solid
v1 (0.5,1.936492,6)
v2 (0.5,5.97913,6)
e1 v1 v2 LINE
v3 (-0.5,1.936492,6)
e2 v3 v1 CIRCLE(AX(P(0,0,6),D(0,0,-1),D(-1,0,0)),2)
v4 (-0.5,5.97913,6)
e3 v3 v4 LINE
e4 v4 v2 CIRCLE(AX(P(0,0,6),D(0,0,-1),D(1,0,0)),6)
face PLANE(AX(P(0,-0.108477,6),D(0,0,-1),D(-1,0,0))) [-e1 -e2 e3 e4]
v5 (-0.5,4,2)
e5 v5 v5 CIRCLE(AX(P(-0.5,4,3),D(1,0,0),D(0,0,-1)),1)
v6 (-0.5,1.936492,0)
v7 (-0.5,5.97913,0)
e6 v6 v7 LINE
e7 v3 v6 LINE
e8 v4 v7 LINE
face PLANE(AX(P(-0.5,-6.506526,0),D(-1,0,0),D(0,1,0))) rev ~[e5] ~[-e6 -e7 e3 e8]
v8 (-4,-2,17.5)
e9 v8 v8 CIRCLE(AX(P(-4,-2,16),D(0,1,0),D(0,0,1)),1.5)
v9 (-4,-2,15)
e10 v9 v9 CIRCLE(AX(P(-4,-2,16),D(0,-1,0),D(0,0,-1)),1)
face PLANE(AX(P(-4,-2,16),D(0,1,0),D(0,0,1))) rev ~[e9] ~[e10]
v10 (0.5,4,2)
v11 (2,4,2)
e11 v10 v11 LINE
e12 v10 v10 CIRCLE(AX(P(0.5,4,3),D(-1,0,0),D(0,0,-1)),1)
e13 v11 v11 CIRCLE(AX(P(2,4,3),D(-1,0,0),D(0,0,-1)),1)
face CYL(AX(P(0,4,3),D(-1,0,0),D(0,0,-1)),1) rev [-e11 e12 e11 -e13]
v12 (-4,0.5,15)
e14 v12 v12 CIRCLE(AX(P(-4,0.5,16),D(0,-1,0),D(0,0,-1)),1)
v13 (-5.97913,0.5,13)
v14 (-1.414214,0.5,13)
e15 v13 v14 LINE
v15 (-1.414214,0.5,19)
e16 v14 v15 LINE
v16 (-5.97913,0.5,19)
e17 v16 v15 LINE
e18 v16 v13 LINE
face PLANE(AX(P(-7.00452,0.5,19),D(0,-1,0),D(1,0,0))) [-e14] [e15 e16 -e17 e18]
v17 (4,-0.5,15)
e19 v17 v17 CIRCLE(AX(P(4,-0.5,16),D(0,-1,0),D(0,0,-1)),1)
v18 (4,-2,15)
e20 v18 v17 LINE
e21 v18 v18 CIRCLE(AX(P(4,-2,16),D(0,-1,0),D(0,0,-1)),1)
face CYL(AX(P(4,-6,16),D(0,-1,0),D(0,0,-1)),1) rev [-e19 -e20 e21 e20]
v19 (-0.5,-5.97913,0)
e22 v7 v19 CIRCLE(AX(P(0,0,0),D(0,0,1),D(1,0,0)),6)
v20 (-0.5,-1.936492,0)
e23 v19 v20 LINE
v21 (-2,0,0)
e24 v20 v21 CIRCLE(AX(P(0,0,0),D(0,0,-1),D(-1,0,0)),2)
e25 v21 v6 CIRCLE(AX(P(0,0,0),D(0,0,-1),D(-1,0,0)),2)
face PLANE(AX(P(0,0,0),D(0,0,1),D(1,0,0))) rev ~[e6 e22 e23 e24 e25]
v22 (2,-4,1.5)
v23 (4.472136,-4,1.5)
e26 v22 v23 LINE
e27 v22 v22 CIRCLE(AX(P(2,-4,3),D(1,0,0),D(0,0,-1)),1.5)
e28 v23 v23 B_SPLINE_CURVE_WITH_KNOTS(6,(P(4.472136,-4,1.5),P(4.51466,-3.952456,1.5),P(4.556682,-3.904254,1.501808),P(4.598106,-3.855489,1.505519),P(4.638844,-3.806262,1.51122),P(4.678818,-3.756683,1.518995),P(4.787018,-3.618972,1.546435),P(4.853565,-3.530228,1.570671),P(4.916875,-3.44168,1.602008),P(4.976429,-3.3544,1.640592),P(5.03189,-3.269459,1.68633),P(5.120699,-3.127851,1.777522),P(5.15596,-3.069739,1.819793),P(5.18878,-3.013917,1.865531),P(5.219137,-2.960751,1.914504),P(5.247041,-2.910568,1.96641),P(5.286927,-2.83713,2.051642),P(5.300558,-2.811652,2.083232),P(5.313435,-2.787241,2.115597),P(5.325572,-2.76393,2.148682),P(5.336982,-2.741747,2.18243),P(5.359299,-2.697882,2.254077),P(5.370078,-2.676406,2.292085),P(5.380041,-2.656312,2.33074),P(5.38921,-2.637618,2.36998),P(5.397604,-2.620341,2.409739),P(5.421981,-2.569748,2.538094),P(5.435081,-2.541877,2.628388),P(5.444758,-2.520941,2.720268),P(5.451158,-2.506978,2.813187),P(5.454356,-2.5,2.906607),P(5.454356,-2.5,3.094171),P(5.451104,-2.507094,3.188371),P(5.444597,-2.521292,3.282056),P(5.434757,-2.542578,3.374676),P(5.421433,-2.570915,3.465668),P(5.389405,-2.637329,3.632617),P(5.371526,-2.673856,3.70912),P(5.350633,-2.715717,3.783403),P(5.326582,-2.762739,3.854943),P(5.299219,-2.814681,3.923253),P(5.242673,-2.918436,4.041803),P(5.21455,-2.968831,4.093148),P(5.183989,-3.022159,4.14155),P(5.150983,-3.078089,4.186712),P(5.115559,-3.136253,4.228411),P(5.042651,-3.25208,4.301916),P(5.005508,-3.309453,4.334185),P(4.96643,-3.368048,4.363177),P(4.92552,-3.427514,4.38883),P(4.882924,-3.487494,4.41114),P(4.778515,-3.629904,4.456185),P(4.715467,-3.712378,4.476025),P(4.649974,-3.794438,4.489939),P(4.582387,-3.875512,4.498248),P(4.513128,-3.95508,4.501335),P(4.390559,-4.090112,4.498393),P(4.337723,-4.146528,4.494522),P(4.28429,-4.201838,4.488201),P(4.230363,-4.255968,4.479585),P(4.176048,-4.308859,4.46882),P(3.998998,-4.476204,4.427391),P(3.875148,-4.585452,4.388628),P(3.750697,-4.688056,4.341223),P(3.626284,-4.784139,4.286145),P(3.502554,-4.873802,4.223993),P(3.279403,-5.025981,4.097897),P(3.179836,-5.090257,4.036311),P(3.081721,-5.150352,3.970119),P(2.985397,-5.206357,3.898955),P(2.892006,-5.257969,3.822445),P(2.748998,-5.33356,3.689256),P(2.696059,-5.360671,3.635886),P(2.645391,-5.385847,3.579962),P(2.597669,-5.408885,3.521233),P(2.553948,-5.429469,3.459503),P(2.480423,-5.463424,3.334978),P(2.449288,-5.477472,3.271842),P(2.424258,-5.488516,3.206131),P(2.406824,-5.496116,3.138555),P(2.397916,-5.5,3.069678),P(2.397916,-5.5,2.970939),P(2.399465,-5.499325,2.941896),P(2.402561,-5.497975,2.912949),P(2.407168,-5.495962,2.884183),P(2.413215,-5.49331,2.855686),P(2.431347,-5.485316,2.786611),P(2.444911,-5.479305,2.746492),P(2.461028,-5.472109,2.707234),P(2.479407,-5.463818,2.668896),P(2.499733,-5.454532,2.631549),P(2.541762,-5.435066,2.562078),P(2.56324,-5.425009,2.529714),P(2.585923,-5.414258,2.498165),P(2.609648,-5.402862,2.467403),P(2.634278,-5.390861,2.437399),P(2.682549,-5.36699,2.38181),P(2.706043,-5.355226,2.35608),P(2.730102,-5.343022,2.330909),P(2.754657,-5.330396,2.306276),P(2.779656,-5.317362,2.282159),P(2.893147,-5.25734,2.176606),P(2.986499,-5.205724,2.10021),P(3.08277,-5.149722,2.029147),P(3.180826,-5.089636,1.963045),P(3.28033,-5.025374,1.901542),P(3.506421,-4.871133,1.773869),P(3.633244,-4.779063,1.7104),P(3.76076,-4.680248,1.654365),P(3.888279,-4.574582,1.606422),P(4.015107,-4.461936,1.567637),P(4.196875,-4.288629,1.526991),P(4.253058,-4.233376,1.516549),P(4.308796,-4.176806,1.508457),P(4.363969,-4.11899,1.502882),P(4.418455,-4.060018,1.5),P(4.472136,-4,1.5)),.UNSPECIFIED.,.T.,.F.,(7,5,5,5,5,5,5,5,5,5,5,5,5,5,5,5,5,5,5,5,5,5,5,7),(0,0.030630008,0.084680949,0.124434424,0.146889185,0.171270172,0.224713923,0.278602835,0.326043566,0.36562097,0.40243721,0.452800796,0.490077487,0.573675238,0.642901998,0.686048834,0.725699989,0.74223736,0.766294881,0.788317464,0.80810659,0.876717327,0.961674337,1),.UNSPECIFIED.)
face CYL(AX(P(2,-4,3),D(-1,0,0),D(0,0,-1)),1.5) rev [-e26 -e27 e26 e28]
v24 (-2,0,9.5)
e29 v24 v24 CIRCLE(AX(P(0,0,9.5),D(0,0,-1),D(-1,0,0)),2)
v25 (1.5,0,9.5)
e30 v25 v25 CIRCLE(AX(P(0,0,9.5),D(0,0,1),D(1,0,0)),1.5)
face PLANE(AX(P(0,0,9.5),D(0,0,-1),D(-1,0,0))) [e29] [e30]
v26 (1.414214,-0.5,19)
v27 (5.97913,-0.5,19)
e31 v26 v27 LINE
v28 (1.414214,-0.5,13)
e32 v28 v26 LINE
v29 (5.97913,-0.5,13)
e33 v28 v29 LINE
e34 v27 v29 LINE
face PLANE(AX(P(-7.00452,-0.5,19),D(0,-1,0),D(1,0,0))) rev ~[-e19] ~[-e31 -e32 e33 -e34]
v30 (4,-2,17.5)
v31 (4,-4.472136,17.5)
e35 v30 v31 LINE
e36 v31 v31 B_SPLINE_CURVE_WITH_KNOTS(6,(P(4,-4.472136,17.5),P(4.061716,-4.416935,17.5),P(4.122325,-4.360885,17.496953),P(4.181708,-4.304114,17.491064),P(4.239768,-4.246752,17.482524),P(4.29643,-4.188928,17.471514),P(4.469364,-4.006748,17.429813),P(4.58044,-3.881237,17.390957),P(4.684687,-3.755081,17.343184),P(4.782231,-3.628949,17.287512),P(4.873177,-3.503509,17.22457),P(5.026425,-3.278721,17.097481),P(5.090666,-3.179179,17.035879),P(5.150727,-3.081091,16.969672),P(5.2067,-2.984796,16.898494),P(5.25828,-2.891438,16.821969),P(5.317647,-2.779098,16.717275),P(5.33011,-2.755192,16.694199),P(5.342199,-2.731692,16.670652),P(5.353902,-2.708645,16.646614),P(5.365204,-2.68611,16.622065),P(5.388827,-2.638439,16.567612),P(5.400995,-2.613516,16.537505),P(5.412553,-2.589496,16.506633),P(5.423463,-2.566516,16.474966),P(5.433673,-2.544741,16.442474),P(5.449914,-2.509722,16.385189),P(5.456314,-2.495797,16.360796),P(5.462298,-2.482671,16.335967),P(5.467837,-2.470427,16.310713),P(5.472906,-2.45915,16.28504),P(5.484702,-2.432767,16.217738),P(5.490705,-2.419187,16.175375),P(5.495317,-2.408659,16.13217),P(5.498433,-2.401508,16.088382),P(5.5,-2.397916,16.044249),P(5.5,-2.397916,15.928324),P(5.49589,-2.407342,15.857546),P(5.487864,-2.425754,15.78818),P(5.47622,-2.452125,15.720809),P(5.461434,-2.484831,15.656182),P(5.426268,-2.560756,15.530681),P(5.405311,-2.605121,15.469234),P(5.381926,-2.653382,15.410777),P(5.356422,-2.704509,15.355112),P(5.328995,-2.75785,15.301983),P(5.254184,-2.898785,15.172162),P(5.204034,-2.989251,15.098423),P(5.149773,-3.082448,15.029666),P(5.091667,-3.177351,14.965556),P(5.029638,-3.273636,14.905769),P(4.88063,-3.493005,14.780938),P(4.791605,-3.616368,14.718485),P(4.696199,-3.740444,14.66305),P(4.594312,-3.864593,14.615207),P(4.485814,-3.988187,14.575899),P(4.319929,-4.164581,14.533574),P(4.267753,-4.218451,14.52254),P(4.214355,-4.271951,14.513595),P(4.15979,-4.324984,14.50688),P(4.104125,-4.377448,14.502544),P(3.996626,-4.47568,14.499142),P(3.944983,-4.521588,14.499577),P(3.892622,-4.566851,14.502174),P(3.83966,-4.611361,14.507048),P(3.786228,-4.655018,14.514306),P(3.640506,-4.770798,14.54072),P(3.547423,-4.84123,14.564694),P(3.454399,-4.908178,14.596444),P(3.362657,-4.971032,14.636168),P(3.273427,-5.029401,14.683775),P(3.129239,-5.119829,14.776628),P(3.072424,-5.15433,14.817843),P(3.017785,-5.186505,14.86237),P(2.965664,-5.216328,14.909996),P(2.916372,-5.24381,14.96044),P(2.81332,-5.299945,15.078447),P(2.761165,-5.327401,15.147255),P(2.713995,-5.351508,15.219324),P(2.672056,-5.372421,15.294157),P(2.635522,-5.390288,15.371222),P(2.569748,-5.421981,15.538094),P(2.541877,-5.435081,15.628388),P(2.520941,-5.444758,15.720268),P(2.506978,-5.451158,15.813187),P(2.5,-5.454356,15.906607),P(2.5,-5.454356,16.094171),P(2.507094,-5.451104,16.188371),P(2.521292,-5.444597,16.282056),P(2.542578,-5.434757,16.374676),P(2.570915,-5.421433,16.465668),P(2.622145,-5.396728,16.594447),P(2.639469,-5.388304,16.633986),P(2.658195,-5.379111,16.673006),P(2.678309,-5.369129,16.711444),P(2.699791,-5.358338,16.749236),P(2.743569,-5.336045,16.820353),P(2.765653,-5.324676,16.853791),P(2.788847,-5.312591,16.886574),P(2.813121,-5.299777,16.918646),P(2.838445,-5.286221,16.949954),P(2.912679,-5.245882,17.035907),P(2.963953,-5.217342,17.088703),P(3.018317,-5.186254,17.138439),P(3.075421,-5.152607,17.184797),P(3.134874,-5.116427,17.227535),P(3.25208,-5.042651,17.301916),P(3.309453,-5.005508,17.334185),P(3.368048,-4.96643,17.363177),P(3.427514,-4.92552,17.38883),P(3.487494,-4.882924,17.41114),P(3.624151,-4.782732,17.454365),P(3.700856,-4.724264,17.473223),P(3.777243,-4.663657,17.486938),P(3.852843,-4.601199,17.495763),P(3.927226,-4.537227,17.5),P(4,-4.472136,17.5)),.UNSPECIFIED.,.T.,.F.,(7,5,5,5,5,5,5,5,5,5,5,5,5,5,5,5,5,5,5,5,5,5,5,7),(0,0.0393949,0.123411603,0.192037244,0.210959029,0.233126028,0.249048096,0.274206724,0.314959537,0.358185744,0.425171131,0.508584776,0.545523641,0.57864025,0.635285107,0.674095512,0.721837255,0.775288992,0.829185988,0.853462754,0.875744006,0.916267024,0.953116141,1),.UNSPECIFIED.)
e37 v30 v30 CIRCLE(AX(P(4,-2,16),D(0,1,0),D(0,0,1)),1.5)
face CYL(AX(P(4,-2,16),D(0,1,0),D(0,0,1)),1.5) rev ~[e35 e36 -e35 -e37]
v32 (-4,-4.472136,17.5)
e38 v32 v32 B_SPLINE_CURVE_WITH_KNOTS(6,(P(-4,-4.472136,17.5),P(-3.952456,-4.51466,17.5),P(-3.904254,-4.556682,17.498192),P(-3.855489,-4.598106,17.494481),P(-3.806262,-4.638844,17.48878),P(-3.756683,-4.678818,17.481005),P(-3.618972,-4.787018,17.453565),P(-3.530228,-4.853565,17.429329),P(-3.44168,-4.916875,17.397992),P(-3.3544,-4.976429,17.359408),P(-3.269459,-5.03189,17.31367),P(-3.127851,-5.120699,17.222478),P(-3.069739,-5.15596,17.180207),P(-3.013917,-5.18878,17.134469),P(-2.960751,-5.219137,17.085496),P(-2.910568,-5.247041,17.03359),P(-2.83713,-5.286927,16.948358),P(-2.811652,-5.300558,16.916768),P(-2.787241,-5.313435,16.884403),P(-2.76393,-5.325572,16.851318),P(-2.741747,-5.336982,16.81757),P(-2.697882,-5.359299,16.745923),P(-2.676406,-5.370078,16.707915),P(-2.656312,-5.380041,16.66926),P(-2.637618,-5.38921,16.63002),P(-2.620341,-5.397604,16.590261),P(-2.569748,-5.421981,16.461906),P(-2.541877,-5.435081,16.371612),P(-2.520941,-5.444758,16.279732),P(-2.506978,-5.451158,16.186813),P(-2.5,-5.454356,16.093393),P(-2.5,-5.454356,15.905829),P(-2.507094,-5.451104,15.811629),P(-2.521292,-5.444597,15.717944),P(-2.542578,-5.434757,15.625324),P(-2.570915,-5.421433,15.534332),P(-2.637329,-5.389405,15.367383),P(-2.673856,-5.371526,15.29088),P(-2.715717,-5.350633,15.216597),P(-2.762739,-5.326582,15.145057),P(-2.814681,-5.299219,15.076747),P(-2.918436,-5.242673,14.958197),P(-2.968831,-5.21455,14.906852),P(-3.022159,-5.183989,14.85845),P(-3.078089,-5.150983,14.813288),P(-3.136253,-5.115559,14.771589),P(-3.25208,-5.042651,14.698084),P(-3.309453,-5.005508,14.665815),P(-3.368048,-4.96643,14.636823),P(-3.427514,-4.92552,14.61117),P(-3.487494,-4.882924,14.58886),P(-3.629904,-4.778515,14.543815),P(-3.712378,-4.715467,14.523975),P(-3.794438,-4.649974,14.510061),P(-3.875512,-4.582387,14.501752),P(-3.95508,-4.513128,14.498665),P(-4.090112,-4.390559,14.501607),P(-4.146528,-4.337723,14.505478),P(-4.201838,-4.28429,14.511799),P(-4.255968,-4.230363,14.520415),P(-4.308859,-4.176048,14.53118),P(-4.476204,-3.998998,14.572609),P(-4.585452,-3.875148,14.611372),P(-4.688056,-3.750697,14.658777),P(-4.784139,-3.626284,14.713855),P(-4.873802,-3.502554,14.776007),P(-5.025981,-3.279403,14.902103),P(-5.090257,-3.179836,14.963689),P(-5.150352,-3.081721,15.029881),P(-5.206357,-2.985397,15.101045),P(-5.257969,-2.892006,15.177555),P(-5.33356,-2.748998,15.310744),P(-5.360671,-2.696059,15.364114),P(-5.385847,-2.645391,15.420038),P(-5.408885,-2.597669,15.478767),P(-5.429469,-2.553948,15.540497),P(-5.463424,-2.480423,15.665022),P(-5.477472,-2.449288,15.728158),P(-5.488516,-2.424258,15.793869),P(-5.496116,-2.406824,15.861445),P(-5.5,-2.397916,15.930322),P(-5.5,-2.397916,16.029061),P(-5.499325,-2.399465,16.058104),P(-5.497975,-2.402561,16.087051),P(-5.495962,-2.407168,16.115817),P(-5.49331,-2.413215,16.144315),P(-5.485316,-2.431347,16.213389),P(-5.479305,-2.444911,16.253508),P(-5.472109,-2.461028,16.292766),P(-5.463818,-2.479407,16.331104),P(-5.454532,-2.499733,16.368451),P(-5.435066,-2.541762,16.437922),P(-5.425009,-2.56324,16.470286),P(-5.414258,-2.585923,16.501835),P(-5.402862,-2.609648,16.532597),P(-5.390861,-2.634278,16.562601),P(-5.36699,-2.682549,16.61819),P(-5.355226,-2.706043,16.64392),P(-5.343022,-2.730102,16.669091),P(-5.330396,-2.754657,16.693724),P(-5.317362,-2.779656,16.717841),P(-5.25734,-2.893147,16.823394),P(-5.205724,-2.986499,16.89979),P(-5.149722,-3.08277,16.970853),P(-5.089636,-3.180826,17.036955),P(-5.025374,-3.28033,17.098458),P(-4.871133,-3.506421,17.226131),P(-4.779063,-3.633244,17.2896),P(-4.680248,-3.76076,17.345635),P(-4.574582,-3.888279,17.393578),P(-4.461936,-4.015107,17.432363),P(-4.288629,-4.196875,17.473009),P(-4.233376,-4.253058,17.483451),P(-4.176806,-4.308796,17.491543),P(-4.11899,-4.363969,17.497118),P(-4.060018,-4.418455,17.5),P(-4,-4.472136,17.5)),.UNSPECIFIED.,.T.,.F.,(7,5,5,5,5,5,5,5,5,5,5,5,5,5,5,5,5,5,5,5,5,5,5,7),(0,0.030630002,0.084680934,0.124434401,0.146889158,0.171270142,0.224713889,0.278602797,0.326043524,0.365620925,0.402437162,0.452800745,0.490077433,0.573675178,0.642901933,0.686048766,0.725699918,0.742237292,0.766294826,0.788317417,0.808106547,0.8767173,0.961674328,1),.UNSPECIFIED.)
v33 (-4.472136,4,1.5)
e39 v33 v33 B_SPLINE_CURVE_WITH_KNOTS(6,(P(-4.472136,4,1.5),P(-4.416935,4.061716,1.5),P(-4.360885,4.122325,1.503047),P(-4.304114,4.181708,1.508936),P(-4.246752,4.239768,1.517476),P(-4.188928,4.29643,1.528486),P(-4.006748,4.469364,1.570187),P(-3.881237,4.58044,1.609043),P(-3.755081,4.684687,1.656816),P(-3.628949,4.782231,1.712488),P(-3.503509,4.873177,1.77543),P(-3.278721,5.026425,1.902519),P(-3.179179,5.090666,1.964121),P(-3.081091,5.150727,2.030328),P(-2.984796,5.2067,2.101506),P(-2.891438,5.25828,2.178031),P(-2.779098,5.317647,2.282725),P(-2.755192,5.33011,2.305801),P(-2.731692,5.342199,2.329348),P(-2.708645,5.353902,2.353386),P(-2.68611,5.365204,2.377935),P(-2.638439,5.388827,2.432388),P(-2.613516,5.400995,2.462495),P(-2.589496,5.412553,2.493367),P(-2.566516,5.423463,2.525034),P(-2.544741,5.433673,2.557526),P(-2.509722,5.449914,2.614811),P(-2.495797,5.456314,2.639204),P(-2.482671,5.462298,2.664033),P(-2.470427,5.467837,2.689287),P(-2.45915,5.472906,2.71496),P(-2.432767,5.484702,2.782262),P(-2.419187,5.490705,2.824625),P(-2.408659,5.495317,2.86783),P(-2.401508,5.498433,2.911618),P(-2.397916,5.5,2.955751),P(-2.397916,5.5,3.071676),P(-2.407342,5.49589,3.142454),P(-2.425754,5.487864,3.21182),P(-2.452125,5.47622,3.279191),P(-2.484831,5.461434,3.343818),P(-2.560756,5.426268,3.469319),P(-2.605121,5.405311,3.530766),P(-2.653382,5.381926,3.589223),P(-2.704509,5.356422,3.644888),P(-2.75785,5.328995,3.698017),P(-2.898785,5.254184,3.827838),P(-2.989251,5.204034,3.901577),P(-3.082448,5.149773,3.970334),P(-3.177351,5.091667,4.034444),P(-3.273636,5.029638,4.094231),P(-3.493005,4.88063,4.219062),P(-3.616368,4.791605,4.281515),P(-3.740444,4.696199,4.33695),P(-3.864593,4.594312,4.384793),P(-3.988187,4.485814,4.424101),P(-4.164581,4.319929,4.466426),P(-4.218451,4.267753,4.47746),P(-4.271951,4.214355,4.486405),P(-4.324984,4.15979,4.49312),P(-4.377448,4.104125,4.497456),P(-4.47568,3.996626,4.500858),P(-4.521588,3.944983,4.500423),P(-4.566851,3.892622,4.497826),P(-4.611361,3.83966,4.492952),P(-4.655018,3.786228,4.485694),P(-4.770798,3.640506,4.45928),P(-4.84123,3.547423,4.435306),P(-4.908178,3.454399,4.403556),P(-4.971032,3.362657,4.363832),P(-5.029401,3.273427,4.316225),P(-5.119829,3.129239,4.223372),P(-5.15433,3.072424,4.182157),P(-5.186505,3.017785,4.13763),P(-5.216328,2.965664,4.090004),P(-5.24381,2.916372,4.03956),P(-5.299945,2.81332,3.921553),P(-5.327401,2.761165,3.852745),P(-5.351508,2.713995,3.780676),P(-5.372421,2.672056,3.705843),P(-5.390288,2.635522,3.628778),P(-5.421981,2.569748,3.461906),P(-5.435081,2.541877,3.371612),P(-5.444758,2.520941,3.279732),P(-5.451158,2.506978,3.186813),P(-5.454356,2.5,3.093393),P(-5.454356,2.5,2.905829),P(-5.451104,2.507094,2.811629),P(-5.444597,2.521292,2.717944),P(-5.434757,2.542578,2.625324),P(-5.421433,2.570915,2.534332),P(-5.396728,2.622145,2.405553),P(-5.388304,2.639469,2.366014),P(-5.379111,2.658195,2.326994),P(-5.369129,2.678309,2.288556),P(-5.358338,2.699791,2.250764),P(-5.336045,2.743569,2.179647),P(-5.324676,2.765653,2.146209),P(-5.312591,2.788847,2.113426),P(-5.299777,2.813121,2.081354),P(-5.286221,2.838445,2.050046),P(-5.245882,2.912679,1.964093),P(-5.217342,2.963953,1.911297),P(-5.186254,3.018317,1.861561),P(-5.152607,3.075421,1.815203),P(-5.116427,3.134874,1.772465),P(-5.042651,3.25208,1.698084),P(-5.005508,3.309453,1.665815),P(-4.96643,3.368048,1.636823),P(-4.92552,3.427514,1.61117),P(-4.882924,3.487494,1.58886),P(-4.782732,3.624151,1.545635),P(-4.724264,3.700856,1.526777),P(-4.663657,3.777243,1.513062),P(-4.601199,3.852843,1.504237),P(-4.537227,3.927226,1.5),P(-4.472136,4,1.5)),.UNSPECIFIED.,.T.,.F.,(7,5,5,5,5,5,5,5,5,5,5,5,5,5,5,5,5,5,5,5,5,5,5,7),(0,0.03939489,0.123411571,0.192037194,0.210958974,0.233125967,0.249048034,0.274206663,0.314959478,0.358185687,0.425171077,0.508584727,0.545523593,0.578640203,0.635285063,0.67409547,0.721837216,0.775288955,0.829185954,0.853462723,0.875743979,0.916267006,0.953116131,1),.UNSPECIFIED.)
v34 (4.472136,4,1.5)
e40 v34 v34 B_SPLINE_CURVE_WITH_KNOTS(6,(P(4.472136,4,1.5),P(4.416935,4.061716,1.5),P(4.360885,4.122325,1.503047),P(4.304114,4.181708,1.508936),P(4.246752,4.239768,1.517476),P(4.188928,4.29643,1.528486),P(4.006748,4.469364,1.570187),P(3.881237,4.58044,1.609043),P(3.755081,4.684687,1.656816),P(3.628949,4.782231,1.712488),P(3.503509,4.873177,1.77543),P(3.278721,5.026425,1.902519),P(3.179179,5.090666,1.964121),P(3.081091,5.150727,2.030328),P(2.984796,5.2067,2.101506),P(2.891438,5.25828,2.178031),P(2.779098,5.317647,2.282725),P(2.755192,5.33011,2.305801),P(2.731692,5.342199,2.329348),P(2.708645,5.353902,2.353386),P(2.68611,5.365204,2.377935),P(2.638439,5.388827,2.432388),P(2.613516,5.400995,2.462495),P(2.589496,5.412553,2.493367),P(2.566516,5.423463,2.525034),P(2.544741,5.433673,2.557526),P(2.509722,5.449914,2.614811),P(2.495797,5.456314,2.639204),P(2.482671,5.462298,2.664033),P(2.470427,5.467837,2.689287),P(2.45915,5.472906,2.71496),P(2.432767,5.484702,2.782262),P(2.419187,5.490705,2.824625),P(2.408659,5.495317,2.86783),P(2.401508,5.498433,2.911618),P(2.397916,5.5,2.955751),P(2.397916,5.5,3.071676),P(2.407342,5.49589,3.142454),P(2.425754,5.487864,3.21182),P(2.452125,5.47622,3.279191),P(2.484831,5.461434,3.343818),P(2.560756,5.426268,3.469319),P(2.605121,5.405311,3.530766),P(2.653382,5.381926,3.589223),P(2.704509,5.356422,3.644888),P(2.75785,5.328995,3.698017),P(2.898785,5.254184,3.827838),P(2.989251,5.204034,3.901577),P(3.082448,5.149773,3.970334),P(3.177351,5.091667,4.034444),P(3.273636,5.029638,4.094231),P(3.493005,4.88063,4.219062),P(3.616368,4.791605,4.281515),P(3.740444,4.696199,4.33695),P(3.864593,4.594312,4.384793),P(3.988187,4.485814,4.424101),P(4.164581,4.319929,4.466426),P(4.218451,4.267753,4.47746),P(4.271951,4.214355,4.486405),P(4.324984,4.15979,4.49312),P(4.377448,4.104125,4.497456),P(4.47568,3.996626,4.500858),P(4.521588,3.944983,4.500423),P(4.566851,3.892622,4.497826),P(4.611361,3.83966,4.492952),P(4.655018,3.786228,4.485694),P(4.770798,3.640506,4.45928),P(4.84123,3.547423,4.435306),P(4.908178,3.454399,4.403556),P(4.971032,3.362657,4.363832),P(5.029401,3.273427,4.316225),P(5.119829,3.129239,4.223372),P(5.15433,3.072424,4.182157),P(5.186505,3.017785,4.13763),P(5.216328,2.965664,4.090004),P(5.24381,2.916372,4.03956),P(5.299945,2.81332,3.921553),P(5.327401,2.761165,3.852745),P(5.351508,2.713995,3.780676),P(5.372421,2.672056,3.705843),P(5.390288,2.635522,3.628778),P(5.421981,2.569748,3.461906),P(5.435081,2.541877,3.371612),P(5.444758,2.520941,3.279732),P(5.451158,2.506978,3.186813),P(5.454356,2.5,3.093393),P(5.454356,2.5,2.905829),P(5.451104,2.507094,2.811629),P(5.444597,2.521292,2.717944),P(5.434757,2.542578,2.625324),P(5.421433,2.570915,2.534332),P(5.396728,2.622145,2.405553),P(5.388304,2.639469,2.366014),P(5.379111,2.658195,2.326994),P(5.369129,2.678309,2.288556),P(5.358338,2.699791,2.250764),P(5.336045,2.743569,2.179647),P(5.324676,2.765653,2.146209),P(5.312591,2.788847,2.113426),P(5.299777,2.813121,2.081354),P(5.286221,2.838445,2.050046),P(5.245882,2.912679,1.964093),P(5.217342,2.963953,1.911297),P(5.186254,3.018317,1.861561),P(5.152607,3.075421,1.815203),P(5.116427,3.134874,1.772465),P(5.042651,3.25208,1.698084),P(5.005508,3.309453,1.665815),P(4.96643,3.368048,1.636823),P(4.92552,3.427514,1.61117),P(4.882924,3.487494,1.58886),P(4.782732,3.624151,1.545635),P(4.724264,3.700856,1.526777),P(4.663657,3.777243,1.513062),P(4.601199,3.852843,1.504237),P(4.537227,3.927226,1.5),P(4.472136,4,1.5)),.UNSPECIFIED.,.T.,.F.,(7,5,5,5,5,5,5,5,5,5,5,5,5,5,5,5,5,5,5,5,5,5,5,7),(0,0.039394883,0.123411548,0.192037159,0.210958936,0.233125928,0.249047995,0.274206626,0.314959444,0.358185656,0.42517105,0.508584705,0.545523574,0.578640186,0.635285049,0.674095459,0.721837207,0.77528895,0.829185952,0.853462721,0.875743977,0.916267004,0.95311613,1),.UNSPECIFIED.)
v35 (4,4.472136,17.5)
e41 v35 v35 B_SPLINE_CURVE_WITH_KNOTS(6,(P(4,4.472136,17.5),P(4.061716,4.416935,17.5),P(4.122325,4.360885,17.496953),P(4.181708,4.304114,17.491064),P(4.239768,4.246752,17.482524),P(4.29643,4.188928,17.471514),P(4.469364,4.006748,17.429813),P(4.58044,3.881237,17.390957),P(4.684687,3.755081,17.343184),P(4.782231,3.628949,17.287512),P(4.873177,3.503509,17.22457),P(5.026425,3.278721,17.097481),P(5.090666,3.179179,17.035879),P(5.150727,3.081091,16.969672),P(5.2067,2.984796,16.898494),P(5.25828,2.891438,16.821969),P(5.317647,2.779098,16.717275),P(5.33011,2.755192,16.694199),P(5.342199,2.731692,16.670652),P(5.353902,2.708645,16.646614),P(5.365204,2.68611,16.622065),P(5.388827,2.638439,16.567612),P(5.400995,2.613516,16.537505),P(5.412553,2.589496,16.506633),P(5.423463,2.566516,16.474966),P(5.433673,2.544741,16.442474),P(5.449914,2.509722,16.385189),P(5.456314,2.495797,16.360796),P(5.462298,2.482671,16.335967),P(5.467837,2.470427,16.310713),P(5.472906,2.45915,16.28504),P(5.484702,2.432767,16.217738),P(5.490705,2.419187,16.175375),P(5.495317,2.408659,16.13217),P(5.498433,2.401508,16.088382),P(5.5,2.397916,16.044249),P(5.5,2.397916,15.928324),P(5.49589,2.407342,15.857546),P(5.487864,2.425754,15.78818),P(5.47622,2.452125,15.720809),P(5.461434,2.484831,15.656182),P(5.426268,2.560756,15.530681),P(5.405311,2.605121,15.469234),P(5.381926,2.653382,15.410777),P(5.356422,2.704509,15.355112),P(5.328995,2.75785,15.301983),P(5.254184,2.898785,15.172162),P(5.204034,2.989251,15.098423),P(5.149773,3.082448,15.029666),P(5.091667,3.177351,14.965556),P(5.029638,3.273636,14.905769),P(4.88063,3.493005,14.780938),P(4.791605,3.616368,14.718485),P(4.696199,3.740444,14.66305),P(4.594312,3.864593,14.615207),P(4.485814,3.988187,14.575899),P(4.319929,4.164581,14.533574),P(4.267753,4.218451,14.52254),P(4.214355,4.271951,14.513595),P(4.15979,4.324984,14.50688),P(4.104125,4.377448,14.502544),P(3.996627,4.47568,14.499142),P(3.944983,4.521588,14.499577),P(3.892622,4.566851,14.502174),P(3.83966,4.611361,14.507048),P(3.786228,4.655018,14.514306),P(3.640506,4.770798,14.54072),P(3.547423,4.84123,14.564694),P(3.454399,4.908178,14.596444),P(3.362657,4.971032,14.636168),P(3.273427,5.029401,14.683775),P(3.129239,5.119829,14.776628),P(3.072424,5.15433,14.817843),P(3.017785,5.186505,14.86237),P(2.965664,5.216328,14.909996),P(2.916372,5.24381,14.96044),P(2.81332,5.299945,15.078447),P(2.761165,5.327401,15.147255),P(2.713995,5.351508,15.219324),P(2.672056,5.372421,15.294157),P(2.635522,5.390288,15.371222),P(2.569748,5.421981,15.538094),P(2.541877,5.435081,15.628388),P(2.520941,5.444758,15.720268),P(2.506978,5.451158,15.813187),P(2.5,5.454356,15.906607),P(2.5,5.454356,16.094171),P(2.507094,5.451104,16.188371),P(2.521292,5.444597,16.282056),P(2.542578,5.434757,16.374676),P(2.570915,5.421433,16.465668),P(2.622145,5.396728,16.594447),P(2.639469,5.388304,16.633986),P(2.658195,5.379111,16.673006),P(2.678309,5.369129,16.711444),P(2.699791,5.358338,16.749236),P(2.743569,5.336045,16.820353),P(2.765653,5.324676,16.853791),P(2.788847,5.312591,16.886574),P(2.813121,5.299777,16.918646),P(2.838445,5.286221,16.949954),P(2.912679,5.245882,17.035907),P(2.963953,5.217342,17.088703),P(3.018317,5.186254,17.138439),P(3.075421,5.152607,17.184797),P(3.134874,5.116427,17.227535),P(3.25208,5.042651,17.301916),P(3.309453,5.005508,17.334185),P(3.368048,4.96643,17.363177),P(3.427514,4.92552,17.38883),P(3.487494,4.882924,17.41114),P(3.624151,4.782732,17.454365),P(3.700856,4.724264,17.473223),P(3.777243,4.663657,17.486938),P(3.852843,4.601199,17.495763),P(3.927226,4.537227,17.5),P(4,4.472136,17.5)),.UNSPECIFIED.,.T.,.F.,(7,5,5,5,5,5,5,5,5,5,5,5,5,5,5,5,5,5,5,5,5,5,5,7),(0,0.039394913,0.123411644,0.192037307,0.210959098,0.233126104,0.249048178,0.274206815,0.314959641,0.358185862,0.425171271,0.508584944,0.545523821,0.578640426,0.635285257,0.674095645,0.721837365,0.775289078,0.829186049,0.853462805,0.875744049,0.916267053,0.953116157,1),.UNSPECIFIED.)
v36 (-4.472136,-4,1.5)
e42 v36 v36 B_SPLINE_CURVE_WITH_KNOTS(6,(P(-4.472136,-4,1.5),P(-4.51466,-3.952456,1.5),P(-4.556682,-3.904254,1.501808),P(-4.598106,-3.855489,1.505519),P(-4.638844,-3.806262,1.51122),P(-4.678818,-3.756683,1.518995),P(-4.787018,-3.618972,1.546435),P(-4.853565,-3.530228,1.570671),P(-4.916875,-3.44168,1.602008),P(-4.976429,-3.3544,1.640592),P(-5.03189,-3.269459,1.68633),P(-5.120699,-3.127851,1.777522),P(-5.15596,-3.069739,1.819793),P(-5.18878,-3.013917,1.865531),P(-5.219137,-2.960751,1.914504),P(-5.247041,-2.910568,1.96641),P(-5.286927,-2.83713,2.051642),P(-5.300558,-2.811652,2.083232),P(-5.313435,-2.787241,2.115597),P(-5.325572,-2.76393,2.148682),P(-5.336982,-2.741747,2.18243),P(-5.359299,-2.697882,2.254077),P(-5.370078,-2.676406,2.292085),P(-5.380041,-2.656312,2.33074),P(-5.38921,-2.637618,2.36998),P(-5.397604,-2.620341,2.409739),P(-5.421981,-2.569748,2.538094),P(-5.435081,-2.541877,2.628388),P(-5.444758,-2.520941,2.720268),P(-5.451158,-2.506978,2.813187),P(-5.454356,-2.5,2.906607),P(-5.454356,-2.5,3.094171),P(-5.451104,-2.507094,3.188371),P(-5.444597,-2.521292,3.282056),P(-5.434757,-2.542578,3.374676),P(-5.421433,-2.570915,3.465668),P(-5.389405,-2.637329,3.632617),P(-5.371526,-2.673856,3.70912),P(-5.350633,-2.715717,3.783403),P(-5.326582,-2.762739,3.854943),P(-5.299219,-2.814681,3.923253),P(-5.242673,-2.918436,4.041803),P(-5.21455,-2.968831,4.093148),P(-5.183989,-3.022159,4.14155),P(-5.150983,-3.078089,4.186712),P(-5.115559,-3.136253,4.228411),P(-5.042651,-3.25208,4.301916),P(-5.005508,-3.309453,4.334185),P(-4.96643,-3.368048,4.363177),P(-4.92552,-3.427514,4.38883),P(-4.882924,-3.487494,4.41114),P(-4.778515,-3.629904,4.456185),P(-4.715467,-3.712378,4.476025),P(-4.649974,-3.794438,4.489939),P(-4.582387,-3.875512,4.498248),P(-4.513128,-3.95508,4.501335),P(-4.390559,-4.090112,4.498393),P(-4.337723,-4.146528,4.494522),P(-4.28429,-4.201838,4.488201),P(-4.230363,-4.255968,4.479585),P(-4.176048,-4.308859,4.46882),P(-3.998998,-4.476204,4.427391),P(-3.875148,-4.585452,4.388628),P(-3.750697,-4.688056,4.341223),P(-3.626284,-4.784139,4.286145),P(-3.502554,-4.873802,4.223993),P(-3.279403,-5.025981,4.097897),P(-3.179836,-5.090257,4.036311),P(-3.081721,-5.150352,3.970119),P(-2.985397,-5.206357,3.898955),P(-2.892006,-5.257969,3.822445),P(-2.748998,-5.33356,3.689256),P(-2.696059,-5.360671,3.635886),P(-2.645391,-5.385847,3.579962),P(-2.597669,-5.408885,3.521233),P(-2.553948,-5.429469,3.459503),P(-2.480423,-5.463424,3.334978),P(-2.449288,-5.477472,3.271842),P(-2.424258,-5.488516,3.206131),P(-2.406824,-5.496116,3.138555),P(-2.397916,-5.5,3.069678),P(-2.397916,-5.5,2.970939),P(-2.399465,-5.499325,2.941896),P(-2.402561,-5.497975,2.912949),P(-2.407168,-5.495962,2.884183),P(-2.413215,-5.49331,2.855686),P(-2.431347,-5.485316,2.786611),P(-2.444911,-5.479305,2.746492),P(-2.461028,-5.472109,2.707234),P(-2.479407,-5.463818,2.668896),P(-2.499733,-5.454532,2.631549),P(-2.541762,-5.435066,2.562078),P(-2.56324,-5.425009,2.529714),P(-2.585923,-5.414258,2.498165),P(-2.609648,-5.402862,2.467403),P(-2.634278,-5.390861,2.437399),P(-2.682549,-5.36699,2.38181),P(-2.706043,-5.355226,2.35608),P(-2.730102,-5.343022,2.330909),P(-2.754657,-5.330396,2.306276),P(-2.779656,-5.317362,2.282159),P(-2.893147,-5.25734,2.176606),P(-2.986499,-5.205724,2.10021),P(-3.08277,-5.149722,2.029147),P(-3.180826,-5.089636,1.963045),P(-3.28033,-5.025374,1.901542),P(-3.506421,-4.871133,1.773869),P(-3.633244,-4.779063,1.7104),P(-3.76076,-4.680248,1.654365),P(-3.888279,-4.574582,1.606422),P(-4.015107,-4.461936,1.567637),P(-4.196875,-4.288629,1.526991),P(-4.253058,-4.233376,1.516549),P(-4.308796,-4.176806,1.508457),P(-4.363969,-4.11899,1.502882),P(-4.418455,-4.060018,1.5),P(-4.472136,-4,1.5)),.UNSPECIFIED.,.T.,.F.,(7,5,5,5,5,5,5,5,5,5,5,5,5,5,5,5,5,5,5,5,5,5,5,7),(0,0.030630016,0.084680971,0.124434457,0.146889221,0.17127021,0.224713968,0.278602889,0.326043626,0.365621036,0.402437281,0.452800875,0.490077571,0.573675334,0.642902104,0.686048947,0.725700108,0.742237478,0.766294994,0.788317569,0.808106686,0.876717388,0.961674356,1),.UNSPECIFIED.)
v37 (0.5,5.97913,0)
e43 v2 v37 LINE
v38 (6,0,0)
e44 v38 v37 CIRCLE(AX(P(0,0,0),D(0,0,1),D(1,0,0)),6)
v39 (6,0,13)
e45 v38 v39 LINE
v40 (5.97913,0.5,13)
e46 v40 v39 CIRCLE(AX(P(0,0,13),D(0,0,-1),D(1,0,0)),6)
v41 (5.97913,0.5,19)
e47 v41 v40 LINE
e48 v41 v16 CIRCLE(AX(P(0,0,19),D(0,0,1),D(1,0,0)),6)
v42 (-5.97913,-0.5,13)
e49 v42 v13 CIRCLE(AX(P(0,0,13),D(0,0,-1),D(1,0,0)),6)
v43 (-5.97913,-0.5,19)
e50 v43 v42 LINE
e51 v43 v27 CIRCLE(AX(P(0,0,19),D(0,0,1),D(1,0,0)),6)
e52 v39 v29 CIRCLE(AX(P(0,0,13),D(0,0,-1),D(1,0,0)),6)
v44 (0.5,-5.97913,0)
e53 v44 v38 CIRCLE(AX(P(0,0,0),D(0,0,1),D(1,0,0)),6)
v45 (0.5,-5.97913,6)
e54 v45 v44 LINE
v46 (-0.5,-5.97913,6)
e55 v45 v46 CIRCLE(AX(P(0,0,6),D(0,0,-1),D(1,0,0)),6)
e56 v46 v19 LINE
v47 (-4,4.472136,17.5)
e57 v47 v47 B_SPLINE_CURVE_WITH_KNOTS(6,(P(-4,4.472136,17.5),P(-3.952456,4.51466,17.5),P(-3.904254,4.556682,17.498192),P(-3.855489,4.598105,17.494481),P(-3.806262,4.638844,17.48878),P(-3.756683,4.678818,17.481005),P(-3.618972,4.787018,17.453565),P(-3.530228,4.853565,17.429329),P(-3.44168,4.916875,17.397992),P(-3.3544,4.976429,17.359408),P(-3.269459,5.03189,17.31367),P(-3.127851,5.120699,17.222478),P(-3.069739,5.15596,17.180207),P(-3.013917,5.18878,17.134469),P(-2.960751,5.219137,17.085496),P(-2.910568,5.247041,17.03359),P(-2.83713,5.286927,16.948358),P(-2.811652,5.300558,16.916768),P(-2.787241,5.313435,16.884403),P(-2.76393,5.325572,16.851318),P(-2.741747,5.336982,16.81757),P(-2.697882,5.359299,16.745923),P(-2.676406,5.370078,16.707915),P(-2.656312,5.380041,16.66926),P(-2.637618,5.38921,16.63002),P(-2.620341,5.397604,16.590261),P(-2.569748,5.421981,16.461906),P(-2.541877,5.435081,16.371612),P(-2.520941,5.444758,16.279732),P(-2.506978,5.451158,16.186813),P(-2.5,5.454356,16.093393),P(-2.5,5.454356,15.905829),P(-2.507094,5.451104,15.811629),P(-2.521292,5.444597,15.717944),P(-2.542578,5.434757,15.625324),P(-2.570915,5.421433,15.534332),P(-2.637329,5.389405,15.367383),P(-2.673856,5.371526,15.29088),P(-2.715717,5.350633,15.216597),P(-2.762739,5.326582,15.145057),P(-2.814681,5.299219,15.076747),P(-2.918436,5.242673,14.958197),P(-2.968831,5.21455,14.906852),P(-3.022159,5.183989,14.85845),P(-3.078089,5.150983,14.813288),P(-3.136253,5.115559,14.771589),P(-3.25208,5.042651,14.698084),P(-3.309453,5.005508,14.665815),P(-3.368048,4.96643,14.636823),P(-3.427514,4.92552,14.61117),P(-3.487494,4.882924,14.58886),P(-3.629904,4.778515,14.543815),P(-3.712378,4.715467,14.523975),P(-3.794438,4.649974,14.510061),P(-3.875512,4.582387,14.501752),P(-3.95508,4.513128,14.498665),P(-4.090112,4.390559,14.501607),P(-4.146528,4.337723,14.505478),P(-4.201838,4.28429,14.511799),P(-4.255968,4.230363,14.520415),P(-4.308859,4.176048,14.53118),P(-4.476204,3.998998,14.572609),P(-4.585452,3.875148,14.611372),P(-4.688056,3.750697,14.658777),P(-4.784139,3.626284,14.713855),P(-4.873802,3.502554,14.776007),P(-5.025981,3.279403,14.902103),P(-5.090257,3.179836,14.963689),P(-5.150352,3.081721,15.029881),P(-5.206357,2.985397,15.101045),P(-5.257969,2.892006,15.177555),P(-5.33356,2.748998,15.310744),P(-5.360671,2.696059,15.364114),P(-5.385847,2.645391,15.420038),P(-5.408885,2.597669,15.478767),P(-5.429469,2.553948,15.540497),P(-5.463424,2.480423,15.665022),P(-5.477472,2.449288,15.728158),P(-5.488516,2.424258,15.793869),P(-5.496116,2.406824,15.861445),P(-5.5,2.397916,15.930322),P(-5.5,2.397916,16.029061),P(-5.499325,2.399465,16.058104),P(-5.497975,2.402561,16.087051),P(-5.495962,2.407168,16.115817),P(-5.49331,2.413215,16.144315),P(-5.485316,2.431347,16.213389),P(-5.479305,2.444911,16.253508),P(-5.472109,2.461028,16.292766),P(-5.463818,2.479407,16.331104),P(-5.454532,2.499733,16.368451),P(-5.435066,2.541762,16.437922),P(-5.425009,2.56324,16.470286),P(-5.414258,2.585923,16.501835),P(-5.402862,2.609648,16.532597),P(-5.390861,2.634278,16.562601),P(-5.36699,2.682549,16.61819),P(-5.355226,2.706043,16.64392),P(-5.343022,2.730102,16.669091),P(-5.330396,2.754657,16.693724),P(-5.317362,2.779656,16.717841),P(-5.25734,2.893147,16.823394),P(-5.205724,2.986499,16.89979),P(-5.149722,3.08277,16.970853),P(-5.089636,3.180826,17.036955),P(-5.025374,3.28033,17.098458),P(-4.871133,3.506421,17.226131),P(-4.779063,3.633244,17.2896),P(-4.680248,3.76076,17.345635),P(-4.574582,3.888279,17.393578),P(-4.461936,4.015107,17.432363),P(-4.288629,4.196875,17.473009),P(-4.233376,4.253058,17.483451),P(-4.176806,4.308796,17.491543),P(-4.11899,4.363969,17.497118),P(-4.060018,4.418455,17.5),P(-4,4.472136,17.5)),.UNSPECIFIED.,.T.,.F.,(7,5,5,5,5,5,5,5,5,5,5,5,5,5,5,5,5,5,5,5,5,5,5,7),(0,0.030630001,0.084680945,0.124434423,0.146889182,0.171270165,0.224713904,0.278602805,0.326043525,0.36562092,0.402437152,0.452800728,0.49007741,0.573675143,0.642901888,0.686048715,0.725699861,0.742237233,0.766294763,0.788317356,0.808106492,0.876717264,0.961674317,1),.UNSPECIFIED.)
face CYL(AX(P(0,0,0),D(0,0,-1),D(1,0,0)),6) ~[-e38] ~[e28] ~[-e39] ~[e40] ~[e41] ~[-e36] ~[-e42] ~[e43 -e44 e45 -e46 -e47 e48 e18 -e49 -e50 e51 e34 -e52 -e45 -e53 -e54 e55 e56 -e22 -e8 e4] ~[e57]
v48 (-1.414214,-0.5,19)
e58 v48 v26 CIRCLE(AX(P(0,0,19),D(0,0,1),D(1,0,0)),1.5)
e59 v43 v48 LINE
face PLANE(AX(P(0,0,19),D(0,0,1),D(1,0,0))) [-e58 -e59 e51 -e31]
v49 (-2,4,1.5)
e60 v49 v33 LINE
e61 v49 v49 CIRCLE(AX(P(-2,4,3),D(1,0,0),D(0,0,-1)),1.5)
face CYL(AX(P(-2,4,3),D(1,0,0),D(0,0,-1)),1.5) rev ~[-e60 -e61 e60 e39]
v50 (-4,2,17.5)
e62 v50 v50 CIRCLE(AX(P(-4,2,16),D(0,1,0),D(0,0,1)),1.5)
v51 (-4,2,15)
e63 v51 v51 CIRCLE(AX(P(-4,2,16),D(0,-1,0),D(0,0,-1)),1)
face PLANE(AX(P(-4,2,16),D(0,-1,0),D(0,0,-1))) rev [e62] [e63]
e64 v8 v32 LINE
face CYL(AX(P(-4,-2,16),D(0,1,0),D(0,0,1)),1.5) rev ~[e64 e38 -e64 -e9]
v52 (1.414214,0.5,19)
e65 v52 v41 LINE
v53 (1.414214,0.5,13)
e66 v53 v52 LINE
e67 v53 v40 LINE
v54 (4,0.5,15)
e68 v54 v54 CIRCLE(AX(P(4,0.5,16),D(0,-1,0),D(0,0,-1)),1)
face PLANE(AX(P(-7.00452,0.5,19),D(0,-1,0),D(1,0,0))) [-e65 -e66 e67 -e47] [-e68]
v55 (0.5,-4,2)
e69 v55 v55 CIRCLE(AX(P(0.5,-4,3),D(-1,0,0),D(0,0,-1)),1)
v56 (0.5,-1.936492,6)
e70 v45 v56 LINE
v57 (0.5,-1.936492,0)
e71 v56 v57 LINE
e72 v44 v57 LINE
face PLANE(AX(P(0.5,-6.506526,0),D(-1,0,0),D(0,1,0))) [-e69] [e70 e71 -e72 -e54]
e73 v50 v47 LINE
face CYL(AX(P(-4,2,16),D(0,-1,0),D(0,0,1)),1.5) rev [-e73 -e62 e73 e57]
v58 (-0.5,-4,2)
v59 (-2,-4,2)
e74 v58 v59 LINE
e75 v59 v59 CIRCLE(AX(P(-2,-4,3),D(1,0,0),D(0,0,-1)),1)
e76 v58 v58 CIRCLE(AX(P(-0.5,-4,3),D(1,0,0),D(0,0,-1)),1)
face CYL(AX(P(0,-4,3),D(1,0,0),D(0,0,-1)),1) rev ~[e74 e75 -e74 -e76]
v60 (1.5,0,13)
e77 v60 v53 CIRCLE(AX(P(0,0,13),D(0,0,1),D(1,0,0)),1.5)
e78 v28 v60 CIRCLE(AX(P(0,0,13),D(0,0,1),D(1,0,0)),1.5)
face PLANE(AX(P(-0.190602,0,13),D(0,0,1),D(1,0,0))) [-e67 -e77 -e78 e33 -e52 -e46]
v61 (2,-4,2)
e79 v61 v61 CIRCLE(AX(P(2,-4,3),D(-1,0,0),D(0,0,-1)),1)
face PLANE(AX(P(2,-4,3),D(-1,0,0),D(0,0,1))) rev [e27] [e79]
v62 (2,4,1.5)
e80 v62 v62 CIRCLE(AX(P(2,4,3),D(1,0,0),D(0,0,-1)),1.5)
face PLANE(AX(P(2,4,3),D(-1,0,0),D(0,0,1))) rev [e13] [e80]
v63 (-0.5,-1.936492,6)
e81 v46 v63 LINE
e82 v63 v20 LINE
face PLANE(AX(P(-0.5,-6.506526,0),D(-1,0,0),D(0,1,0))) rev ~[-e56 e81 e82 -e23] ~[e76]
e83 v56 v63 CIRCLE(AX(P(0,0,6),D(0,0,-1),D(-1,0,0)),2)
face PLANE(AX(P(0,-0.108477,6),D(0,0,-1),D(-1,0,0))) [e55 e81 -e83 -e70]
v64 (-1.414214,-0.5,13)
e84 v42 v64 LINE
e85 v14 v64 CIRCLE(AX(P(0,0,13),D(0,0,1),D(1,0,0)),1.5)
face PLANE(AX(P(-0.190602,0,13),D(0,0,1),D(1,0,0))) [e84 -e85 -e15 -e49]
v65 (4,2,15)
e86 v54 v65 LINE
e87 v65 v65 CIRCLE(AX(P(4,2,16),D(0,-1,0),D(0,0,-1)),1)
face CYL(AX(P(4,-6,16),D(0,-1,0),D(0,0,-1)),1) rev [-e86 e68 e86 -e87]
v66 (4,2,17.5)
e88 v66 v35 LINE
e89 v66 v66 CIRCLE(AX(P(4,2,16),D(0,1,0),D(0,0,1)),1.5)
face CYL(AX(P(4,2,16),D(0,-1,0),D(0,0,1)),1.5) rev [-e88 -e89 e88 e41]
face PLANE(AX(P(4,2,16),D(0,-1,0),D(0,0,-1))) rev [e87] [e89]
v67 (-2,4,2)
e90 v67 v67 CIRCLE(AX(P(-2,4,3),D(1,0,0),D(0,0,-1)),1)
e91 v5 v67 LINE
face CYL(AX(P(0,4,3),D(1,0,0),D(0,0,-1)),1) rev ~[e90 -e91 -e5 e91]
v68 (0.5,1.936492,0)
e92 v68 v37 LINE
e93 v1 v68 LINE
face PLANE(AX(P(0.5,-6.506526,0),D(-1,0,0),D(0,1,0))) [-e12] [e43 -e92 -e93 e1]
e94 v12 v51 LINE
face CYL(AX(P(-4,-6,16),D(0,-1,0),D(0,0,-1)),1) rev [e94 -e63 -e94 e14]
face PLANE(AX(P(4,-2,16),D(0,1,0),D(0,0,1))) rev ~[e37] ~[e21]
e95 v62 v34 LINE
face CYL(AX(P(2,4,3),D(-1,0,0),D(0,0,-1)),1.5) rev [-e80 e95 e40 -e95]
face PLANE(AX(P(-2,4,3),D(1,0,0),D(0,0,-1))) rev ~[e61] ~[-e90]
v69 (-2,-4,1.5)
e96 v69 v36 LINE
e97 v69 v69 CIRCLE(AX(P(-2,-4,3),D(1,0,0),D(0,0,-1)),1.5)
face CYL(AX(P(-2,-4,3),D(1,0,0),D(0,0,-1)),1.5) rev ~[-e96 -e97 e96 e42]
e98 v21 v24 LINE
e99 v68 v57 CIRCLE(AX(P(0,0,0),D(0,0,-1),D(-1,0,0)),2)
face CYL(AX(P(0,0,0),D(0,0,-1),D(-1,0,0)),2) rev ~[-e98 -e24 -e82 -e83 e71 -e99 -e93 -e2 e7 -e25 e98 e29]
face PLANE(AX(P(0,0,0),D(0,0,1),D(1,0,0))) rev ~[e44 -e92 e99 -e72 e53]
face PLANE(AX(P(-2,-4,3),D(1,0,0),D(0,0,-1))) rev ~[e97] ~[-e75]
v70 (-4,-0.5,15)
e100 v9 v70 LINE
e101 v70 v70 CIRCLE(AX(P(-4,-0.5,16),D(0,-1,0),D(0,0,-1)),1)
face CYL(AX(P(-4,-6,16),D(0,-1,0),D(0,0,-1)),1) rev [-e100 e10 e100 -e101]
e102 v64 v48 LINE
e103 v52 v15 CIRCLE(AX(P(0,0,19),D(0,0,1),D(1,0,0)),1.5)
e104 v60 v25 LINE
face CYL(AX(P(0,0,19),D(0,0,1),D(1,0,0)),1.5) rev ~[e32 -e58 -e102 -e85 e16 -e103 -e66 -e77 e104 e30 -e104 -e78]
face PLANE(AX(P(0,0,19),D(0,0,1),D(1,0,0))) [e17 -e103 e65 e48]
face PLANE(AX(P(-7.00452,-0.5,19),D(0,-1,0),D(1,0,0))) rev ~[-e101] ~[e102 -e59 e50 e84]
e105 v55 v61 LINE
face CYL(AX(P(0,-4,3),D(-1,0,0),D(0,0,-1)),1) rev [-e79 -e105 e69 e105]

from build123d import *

# Parameters (mm, degrees)
SKETCH_1_R               = 6
EXTRUDE_1_DEPTH          = 19
SKETCH_2_R               = 1.5
CUT_EXTRUDE_1_DEPTH      = 9.5
SKETCH_3_W               = 13.627836578
SKETCH_3_H               = 1
CUT_EXTRUDE_2_DEPTH      = 6
SKETCH_4_W               = 1
SKETCH_4_H               = 12.796097453
CUT_EXTRUDE_3_DEPTH      = 6
CUT_EXTRUDE_5_DEPTH      = 6
CUT_EXTRUDE_5_DEPTH_BACK = 6
SKETCH_5_R               = 1
CUT_EXTRUDE_START        = -2
SKETCH_6_R               = 1.5
CUT_EXTRUDE_6_DEPTH      = 6
SKETCH_7_R               = 1
CUT_EXTRUDE_7_DEPTH      = 6
SKETCH_8_R               = 1.5
CUT_EXTRUDE_8_DEPTH      = 6
SKETCH_9_R               = 2
CUT_EXTRUDE_9_DEPTH      = 9.5


with BuildPart() as part:
    # 草图1 → 凸台-拉伸1 (new body)
    with BuildSketch(Plane.XY):
        Circle(SKETCH_1_R)
    extrude(amount=EXTRUDE_1_DEPTH)

    # 草图2 → 切除-拉伸1 (cut)
    with BuildSketch(Plane.XY.offset(19)):
        Circle(SKETCH_2_R)
    extrude(amount=-CUT_EXTRUDE_1_DEPTH, mode=Mode.SUBTRACT)

    # 草图3 → 切除-拉伸2 (cut)
    with BuildSketch(Plane.XY.offset(19)):
        with Locations((-0.190601878, 0)):
            Rectangle(SKETCH_3_W, SKETCH_3_H)
    extrude(amount=-CUT_EXTRUDE_2_DEPTH, mode=Mode.SUBTRACT)

    # 草图4 → 切除-拉伸3 (cut)
    with BuildSketch(Plane(origin=(0, 0, 0), x_dir=(-1, 0, 0), z_dir=(0, 0, -1))):
        with Locations((0, -0.108476873)):
            Rectangle(SKETCH_4_W, SKETCH_4_H)
    extrude(amount=-CUT_EXTRUDE_3_DEPTH, mode=Mode.SUBTRACT)

    # 草图5 → 切除-拉伸5 (cut, two sides: drawn at the far end of the back side and taken through both)
    with BuildSketch(Plane(origin=(0, 0, 0), x_dir=(1, 0, 0), z_dir=(0, 1, 0)).offset(-CUT_EXTRUDE_5_DEPTH_BACK)):
        with Locations(Location((-4, -16, 0), (0, 0, 90))):
            Circle(SKETCH_5_R)
        with Locations(Location((4, -16, 0), (0, 0, 90))):
            Circle(SKETCH_5_R)
    extrude(amount=CUT_EXTRUDE_5_DEPTH + CUT_EXTRUDE_5_DEPTH_BACK, mode=Mode.SUBTRACT)

    # 草图6 → 切除-拉伸6 (cut)
    with BuildSketch(Plane(origin=(0, 0, 0), x_dir=(1, 0, 0), z_dir=(0, 1, 0)).offset(CUT_EXTRUDE_START)):
        with Locations(Location((-4, -16, 0), (0, 0, 270))):
            Circle(SKETCH_6_R)
        with Locations(Location((4, -16, 0), (0, 0, 270))):
            Circle(SKETCH_6_R)
    cut_extrude_6 = extrude(amount=-CUT_EXTRUDE_6_DEPTH, mode=Mode.SUBTRACT)

    # 镜向1: 切除-拉伸6 across plane
    add(cut_extrude_6.mirror(Plane.ZX), mode=Mode.SUBTRACT)

    # 草图7 → 切除-拉伸7 (cut)
    with BuildSketch(Plane(origin=(0, 0, 0), x_dir=(0, 0, -1), z_dir=(1, 0, 0))):
        with Locations((-3, 4)):
            Circle(SKETCH_7_R)
        with Locations((-3, -4)):
            Circle(SKETCH_7_R)
    cut_extrude_7 = extrude(amount=-CUT_EXTRUDE_7_DEPTH, mode=Mode.SUBTRACT)

    # 草图8 → 切除-拉伸8 (cut)
    with BuildSketch(Plane(origin=(0, 0, 0), x_dir=(0, 0, -1), z_dir=(1, 0, 0)).offset(CUT_EXTRUDE_START)):
        with Locations((-3, -4)):
            Circle(SKETCH_8_R)
        with Locations((-3, 4)):
            Circle(SKETCH_8_R)
    cut_extrude_8 = extrude(amount=-CUT_EXTRUDE_8_DEPTH, mode=Mode.SUBTRACT)

    # 镜向2: 切除-拉伸7, 切除-拉伸8 across plane
    add(cut_extrude_7.mirror(Plane(origin=(0, 0, 0), x_dir=(0, 0, 1), z_dir=(1, 0, 0))), mode=Mode.SUBTRACT)
    add(cut_extrude_8.mirror(Plane(origin=(0, 0, 0), x_dir=(0, 0, 1), z_dir=(1, 0, 0))), mode=Mode.SUBTRACT)

    # 草图9 → 切除-拉伸9 (cut)
    with BuildSketch(Plane(origin=(0, 0, 0), x_dir=(-1, 0, 0), z_dir=(0, 0, -1))):
        Circle(SKETCH_9_R)
    extrude(amount=-CUT_EXTRUDE_9_DEPTH, mode=Mode.SUBTRACT)


solid = part.part
